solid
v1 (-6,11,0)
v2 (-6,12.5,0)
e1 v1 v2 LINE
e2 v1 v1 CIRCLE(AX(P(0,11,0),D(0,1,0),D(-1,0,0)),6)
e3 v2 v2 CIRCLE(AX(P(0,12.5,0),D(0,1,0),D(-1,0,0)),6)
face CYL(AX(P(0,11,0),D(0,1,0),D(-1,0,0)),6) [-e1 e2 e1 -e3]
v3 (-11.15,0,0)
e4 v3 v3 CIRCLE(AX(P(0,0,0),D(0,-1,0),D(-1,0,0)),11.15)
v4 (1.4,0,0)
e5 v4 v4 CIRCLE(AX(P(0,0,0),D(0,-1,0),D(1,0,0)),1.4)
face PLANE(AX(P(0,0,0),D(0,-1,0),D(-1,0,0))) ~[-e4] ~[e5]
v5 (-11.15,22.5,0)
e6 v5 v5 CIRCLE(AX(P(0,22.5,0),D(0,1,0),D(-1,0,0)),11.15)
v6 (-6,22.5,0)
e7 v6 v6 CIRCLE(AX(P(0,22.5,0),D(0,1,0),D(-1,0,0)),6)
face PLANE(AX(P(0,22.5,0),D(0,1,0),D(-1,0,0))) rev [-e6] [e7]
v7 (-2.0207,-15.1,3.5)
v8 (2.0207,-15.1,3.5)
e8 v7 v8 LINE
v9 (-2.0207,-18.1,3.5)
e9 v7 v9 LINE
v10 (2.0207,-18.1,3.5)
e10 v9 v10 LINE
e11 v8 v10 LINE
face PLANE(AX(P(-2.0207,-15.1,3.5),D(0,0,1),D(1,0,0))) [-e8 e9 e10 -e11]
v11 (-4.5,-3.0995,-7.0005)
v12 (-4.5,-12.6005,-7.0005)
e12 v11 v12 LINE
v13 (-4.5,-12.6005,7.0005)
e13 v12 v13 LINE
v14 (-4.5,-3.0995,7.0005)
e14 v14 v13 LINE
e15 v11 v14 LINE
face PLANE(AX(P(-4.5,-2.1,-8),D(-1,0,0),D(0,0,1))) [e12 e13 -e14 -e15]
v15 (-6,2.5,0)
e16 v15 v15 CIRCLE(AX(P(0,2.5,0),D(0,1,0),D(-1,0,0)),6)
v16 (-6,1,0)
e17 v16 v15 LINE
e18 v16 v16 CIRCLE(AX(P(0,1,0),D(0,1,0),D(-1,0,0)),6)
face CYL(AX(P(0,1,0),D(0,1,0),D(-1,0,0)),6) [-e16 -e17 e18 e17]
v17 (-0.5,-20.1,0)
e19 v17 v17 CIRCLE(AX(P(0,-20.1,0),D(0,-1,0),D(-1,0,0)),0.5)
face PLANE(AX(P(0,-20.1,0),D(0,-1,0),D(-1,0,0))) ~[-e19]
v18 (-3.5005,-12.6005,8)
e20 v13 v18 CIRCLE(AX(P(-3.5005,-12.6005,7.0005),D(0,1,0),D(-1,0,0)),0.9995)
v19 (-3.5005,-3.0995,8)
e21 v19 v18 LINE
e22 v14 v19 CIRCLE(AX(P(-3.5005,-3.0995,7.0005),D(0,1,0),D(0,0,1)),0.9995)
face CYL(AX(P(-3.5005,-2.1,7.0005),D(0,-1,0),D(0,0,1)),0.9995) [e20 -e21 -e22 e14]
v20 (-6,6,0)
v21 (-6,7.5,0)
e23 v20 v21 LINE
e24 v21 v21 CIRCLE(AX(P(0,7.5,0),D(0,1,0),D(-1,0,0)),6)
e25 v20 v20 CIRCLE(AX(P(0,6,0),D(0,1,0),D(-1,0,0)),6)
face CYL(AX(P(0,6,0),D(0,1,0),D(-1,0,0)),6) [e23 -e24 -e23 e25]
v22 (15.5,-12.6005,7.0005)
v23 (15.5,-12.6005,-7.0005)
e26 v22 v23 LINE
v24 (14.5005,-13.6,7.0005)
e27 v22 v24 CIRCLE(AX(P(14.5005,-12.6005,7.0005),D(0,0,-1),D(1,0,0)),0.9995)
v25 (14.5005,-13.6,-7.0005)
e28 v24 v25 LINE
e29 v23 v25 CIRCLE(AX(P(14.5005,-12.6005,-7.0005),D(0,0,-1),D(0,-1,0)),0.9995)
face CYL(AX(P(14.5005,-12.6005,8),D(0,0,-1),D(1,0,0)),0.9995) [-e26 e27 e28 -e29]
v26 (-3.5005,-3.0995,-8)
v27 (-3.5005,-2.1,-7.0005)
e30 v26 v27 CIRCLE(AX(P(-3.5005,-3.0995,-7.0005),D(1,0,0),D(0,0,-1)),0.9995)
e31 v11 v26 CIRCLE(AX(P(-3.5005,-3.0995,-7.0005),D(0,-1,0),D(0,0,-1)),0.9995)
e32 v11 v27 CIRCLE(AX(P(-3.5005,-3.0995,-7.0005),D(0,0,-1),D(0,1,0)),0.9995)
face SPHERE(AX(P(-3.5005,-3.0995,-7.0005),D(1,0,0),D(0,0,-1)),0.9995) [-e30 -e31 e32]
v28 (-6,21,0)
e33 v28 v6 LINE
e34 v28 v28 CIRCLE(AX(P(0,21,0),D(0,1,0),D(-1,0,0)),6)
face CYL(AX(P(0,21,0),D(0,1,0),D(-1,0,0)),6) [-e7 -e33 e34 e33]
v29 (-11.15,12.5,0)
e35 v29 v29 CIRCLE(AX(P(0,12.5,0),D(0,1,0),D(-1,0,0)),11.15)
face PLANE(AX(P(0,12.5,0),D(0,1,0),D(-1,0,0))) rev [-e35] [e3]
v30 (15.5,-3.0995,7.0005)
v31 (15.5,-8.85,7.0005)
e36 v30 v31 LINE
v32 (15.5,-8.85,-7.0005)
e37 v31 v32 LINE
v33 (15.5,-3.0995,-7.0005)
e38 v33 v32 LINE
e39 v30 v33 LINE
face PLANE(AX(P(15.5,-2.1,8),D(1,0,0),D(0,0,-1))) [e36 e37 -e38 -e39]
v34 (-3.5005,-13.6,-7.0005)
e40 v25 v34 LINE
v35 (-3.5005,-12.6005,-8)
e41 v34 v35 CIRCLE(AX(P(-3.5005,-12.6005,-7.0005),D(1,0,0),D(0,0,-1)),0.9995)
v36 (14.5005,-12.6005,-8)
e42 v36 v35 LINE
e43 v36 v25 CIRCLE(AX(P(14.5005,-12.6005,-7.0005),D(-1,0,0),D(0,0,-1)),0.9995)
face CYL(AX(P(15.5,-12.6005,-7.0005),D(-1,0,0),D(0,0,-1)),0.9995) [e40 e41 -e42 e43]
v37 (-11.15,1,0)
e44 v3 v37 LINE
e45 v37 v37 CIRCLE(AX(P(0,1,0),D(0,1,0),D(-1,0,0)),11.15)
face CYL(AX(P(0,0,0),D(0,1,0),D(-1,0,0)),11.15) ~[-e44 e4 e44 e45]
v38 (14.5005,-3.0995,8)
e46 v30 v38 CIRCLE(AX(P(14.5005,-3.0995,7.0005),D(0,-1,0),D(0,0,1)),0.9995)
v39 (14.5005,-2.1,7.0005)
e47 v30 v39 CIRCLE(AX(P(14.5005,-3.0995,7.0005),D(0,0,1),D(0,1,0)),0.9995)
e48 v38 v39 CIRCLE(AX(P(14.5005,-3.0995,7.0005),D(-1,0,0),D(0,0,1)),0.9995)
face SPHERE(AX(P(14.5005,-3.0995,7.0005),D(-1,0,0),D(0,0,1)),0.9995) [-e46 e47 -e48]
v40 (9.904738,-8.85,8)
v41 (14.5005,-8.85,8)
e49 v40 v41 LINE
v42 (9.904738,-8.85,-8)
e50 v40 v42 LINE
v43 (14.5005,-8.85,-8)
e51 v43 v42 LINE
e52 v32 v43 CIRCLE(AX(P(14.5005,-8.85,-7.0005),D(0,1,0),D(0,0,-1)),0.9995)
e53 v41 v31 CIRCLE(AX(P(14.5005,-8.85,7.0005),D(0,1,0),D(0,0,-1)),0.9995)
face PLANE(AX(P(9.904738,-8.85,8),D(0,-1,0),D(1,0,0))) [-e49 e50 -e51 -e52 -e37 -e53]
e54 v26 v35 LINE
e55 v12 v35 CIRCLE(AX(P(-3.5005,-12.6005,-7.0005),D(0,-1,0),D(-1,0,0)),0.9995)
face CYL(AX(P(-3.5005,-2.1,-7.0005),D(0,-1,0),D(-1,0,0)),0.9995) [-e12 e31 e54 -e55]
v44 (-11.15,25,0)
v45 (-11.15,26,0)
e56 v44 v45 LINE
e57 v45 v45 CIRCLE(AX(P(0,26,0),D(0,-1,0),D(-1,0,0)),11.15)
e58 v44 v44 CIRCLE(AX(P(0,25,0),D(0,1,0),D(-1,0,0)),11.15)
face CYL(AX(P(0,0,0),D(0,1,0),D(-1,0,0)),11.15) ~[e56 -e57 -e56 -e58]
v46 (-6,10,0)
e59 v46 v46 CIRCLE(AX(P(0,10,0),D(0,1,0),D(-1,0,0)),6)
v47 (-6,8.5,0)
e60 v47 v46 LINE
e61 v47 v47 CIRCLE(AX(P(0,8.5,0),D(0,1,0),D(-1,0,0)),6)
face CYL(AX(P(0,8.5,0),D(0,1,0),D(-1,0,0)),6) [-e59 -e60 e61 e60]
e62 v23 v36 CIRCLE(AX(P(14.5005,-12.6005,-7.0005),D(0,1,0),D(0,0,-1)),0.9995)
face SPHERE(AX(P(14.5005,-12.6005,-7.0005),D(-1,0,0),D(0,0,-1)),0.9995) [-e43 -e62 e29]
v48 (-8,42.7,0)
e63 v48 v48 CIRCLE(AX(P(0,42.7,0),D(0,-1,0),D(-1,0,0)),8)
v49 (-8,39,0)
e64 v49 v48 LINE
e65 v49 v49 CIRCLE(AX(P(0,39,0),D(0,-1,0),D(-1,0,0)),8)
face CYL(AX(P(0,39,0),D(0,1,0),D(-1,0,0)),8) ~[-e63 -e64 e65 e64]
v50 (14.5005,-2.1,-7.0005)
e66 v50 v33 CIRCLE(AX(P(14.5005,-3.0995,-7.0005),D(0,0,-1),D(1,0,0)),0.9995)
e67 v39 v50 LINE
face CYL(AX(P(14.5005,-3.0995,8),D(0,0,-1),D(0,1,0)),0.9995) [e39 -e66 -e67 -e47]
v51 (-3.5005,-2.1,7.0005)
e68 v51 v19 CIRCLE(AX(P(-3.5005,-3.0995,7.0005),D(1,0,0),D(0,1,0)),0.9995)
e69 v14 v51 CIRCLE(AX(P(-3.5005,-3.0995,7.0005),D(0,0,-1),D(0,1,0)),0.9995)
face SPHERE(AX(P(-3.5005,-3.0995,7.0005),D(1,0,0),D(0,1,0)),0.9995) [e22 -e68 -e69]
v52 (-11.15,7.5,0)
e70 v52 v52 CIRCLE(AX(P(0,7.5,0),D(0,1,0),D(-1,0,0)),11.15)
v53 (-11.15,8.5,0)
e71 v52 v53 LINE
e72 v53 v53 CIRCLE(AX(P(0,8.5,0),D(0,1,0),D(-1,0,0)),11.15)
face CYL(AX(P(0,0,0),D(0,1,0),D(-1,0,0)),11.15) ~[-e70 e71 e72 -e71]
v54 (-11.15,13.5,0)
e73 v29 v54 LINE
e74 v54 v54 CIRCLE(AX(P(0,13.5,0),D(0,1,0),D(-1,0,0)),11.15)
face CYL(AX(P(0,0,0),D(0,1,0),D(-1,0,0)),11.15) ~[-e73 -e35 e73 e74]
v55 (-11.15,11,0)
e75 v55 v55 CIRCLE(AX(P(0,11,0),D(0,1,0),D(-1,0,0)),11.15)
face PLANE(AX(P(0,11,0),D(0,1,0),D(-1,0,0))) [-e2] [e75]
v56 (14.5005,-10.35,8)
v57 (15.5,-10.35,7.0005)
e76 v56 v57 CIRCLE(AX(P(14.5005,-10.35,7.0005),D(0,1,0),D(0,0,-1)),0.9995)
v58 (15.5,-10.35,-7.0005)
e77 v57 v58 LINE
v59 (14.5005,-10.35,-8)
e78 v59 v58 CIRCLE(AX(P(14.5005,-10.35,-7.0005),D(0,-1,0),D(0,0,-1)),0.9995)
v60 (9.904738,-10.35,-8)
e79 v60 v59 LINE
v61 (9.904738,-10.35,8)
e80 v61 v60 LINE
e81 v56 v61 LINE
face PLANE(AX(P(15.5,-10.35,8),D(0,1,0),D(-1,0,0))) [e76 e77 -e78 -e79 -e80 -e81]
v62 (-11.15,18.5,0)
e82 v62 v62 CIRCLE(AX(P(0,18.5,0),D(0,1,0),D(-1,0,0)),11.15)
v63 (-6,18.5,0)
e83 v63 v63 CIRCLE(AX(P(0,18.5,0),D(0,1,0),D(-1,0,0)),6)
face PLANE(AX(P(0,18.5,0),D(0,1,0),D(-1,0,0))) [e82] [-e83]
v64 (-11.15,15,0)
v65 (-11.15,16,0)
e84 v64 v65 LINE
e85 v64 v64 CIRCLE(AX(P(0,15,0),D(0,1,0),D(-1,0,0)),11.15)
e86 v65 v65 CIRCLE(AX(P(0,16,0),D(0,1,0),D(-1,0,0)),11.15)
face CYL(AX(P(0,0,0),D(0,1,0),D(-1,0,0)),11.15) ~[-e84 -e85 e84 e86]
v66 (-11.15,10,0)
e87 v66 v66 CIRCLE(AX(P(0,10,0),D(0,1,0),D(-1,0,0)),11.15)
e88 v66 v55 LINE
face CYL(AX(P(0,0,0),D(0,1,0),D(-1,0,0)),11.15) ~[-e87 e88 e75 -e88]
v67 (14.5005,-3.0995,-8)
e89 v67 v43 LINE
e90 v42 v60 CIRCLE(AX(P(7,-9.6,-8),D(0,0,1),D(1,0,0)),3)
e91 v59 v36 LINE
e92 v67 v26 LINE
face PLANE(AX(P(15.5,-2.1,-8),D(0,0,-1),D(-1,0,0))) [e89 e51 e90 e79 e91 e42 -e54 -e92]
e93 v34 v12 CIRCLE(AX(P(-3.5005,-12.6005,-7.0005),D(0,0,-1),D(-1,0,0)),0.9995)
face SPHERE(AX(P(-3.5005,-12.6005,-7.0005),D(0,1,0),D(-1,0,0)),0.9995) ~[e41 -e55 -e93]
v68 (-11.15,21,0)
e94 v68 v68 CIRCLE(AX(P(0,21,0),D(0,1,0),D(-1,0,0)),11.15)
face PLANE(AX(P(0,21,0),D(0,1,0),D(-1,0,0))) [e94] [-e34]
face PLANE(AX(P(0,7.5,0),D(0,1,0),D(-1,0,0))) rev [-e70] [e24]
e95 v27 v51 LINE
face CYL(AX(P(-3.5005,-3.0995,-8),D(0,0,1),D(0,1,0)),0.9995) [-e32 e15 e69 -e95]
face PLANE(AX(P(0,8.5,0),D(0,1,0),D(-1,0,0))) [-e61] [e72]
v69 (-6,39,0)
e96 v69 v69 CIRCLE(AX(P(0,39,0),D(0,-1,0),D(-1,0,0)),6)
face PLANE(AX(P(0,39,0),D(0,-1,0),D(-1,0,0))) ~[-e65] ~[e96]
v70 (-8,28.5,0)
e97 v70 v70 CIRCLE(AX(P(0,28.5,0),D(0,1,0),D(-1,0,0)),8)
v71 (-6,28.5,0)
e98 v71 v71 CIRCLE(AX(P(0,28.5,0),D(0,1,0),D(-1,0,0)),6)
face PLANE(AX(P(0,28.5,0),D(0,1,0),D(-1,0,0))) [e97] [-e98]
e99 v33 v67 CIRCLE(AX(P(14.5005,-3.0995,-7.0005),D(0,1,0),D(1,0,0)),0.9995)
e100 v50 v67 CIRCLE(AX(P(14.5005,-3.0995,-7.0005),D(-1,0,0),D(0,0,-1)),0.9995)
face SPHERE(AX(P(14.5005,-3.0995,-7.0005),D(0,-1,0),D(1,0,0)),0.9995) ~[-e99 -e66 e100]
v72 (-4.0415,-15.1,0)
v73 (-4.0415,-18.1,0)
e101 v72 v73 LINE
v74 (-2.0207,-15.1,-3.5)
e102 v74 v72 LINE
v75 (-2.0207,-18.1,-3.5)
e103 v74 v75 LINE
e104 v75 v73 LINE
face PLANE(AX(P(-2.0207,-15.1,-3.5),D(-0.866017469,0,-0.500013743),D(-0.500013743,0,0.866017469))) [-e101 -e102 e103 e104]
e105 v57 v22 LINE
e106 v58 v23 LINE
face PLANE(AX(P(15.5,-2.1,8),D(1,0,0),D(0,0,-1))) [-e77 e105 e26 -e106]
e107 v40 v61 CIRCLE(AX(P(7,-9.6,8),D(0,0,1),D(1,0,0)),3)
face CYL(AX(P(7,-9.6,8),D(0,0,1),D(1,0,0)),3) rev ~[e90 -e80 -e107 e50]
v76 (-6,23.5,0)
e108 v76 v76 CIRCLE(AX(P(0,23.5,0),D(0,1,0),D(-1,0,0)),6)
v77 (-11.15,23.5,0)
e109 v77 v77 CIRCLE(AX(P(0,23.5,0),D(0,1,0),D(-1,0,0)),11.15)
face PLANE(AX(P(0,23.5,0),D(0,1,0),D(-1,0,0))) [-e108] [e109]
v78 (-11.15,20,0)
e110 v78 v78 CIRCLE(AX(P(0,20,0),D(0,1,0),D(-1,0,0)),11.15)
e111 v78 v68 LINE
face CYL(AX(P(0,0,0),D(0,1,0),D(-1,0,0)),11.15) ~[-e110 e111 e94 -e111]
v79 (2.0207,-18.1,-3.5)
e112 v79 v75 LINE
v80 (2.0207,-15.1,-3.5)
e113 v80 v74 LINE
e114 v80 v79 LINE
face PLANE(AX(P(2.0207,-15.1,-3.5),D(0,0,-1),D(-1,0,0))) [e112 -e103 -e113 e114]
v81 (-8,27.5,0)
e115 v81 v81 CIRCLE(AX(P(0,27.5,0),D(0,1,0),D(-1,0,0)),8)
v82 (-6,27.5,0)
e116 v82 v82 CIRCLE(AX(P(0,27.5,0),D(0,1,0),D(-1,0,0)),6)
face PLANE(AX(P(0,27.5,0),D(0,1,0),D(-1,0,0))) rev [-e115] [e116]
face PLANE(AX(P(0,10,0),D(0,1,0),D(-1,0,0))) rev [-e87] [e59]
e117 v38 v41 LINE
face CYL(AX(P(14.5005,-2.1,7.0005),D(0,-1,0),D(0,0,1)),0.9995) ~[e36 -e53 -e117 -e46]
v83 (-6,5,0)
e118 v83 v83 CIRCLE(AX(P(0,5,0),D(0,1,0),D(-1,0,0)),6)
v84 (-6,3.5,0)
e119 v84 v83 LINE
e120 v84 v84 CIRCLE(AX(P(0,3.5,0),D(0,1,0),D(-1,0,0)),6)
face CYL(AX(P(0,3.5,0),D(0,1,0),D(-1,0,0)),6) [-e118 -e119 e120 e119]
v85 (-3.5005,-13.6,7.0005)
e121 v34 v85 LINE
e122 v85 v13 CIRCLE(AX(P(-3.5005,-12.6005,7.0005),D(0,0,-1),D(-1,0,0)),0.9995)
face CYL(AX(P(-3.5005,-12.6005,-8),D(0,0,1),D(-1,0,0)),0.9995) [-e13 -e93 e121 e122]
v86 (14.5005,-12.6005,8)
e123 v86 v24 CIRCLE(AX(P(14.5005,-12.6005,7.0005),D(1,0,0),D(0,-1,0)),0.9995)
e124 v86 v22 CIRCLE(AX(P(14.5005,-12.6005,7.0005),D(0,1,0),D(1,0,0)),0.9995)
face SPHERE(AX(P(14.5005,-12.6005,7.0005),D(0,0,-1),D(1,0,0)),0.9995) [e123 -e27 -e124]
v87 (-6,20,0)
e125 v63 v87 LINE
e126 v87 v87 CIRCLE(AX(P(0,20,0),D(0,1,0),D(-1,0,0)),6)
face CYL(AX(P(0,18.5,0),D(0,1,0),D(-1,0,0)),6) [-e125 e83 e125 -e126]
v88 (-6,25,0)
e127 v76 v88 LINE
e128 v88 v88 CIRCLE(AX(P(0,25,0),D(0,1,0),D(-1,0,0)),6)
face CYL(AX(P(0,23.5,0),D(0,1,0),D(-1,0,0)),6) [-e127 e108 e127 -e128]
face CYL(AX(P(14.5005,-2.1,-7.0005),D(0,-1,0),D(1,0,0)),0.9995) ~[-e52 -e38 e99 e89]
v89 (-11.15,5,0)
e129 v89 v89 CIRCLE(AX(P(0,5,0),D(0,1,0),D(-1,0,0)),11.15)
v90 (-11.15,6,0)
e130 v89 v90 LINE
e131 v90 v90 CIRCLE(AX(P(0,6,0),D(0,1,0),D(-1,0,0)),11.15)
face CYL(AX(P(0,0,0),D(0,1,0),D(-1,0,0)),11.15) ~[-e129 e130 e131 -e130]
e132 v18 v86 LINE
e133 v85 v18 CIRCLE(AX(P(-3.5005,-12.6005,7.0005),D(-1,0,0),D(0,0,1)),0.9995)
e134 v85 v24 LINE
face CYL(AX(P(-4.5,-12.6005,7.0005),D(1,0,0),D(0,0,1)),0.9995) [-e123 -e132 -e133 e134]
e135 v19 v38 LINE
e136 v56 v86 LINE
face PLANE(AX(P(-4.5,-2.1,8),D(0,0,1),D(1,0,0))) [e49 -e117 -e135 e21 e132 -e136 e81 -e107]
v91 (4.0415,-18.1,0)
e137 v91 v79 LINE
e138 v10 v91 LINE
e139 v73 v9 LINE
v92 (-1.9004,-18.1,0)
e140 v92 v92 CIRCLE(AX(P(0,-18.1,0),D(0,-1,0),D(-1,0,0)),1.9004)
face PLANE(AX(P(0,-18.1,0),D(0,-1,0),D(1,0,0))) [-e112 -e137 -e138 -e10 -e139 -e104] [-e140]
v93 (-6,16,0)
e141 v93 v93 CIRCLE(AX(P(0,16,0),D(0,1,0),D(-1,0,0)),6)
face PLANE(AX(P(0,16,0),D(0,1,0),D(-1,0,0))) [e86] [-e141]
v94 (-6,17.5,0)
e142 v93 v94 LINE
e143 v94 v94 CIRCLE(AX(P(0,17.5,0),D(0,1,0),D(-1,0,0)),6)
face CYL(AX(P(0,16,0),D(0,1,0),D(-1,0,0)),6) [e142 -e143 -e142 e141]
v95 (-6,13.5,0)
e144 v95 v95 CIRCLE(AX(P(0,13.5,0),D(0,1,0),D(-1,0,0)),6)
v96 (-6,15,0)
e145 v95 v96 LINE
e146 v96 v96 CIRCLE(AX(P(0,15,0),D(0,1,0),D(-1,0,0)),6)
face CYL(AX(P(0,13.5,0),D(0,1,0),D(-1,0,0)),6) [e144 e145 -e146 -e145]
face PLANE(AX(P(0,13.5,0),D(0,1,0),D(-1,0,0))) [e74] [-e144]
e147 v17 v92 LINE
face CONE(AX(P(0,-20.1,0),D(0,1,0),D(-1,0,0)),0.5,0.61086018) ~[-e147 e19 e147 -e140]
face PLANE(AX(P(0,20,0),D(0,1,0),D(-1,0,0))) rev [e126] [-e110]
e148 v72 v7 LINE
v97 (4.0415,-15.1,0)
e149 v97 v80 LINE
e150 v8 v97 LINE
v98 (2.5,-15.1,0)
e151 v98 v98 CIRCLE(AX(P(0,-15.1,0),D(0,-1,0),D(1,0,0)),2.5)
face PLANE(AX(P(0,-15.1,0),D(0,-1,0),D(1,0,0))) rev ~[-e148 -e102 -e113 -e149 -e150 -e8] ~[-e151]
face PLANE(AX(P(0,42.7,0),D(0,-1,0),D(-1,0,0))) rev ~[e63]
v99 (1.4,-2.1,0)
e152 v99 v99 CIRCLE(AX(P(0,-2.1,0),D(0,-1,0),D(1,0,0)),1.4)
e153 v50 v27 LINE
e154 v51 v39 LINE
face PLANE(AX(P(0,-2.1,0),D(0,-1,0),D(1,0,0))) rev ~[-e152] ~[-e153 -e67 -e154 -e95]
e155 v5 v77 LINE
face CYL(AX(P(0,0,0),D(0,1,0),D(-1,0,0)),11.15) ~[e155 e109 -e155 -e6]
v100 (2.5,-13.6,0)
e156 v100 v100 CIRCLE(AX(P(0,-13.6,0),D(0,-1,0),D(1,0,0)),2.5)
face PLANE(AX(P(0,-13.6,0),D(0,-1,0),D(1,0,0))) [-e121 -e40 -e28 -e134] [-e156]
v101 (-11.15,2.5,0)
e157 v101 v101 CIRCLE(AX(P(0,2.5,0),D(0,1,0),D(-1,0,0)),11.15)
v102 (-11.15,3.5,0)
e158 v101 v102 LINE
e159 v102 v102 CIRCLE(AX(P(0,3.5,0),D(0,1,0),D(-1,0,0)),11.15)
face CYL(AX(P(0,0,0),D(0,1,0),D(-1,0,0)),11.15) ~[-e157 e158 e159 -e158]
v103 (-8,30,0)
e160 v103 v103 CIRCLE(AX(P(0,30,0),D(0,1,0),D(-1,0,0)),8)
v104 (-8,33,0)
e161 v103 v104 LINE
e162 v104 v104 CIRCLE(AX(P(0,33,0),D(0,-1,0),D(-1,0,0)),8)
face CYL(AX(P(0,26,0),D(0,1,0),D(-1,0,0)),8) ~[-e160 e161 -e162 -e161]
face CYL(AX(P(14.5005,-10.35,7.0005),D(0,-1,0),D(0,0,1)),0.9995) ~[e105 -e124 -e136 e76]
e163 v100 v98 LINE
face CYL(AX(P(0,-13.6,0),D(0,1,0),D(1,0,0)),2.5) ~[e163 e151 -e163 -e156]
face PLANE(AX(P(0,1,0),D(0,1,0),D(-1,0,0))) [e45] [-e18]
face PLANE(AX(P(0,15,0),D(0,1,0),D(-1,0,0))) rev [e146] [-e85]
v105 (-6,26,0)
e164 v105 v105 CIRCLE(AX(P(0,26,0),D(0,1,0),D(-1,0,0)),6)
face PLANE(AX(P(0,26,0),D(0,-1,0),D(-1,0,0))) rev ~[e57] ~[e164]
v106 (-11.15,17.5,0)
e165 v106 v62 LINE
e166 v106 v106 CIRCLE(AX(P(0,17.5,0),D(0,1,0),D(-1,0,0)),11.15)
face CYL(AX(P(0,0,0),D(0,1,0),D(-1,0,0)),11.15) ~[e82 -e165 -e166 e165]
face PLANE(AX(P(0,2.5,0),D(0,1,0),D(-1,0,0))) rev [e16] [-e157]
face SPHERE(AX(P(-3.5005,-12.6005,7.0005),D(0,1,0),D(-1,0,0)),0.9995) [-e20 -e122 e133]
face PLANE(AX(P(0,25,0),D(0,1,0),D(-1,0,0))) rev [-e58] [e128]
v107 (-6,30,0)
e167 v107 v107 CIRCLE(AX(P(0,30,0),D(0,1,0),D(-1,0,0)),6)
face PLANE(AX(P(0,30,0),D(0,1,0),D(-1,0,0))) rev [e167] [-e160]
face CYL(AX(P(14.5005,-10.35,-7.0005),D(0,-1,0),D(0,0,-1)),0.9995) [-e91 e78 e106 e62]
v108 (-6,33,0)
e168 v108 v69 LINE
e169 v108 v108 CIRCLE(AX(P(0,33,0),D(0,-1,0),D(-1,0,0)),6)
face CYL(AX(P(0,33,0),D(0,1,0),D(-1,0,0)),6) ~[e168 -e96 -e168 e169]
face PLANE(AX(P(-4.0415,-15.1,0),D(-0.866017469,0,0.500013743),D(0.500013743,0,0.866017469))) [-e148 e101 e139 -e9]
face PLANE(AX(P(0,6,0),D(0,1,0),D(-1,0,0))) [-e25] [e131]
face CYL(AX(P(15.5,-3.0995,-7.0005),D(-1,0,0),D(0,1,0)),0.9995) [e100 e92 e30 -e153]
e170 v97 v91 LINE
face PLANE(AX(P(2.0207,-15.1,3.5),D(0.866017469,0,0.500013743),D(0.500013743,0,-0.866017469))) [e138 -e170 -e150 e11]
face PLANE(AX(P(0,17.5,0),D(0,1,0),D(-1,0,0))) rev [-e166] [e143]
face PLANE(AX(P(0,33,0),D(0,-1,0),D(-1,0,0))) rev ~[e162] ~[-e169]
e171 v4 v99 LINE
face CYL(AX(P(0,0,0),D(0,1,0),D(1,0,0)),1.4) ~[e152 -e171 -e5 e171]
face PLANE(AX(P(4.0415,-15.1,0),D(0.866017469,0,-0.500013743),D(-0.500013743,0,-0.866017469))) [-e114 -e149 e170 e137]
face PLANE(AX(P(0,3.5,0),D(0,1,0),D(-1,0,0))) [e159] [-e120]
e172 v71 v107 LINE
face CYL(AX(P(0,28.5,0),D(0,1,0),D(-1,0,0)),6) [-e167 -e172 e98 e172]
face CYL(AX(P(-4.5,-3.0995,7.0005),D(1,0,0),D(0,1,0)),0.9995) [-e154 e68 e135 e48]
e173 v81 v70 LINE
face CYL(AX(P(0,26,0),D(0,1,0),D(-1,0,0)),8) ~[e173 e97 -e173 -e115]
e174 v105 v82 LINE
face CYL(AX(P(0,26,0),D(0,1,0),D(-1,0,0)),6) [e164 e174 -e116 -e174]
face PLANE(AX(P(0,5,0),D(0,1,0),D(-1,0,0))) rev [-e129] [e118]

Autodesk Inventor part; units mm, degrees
ref_plane "YZ Plane" through (0, 0, 0) normal (1, 0, 0) x (0, 1, 0)
ref_plane "XZ Plane" through (0, 0, 0) normal (0, 1, 0) x (-1, 0, 0)
ref_plane "XY Plane" through (0, 0, 0) normal (0, 0, 1) x (1, 0, 0)
sketch "Sketch1" plane through (0, 0, 0) normal (0, 0, 1) x (1, 0, 0)
  line L0 (0, 0) -> (-11.15, 0)
  line L1 (-11.15, 0) -> (-11.15, 26)
  line L2 (-11.15, 26) -> (-8, 26)
  line L3 (-8, 26) -> (-8, 33)
  line L4 (-8, 33) -> (-6, 33)
  line L5 (-6, 33) -> (-6, 39)
  line L6 (-6, 39) -> (-8, 39)
  line L7 (-8, 39) -> (-8, 42.7)
  line L8 (-8, 42.7) -> (0, 42.7)
  line L9 (0, 42.7) -> (0, 0)
  dimension "d0" = 6
  dimension "d2" = 8
  dimension "d3" = 11.15
  dimension "d4" = 26
  dimension "d5" = 42.7
  dimension "d6" = 3.7
  dimension "d7" = 6
revolve "Revolution1" add sketch "Sketch1" angle 360 about axis through (0, 42.7, 0) along (0, -1, 0)
sketch "Sketch2" plane through (0, 0, 0) normal (0, 0, 1) x (1, 0, 0)
  line L0 (11.15, 26) -> (11.15, 0) projected
  line L1 (11.15, 0) -> (-11.15, 0) projected
  line L2 (-11.15, 0) -> (-11.15, 26) projected
  line L3 (-11.15, 26) -> (-8, 26) projected
  line L4 (-8, 26) -> (-8, 33) projected
  line L5 (-8, 33) -> (-6, 33) projected
  line L6 (-6, 33) -> (-6, 39) projected
  line L7 (-6, 39) -> (-8, 39) projected
  line L8 (-8, 39) -> (-8, 42.7) projected
  line L9 (-8, 42.7) -> (8, 42.7) projected
  line L10 (8, 42.7) -> (8, 39) projected
  line L11 (8, 39) -> (6, 39) projected
  line L12 (6, 39) -> (6, 33) projected
  line L13 (6, 33) -> (8, 33) projected
  line L14 (8, 33) -> (8, 26) projected
  line L15 (8, 26) -> (11.15, 26) projected
  line L16 (-11.15, 1) -> (-6, 1)
  line L17 (-6, 1) -> (-6, 2.5)
  line L18 (-6, 2.5) -> (-11.15, 2.5)
  line L19 (-11.15, 2.5) -> (-11.15, 1)
  line L20 (0, -8.54) -> (0, 51.24) projected
  point P0 (0, 0)
  dimension "d9" = 6
  dimension "d10" = 1.5
  dimension "d11" = 1
revolve "Revolution2" cut sketch "Sketch2" angle 360 about axis through (0, -10, 0) along (0, 1, 0) contours L2 L18 L17 L16
pattern_linear "Rectangular Pattern1" count 12 spacing 2.5 along (0, 1, 0) of "Revolution2"
sketch "Sketch3" plane through (0, 0, 0) normal (0, -1, 0) x (1, 0, 0)
  circle A0 centre (0, 0) radius 11.15 projected
  circle A1 centre (0, 0) radius 1.4
  dimension "d16" = 2.8
extrude "Extrusion1" add sketch "Sketch3" along normal blind 2.1 contours A1
sketch "Sketch4" plane through (0, -2.1, 0) normal (0, -1, 0) x (1, 0, 0)
  circle A0 centre (0, 0) radius 1.4 projected
  line L0 (-4.5, 8) -> (15.5, 8)
  line L1 (15.5, 8) -> (15.5, -8)
  line L2 (15.5, -8) -> (-4.5, -8)
  line L3 (-4.5, -8) -> (-4.5, 8)
  point P0 (-4.5, 0)
  dimension "d20" = 4.5
  dimension "d21" = 16
  dimension "d22" = 20
extrude "Extrusion2" add sketch "Sketch4" along normal blind 11.5 contours A0 | L0 L1 L2 L3
sketch "Sketch5" plane through (-4.5, -2.1, 8) normal (0, 0, 1) x (1, 0, 0)
  line L0 (0, 0) -> (0, -11.5) projected
  line L1 (20, -11.5) -> (0, -11.5) projected
  line L2 (20, 0) -> (20, -11.5) projected
  circle A0 centre (11.5, -7.5) radius 3
  line L3 (11.5, -6.75) -> (20, -6.75)
  line L4 (20, -6.75) -> (20, -8.25)
  line L5 (20, -8.25) -> (11.5, -8.25)
  line L6 (11.5, -8.25) -> (11.5, -6.75)
  point P0 (4.5, 2.1)
  dimension "d25" = 4
  dimension "d26" = 6
  dimension "d27" = 1.5
  dimension "d28" = 11.5
extrude "Extrusion3" cut sketch "Sketch5" against normal through all
sketch "Sketch6" plane through (0, -13.6, 0) normal (0, -1, 0) x (1, 0, 0)
  circle A0 centre (0, 0) radius 2.5
  dimension "d32" = 5
extrude "Extrusion4" add sketch "Sketch6" along normal blind 1.5
fillet "Fillet1" radius 1 14 edges at (5.5, -2.1, 8) (15.5, -5.475, 8) (15.5, -5.475, -8) (15.5, -2.1, 0) (5.5, -2.1, -8) (-4.5, -7.85, -8) (-4.5, -2.1, 0) (-4.5, -7.85, 8) (-4.5, -13.6, 0) (5.5, -13.6, -8) (15.5, -11.975, -8) (15.5, -13.6, 0) (15.5, -11.975, 8) (5.5, -13.6, 8)
sketch "Sketch7" plane through (0, -15.1, 0) normal (0, -1, 0) x (1, 0, 0)
  circle A0 centre (0, 0) radius 2.5 projected
  line L0 (2.0207, 3.5) -> (4.0415, 0)
  line L1 (4.0415, 0) -> (2.0207, -3.5)
  line L2 (2.0207, -3.5) -> (-2.0207, -3.5)
  line L3 (-2.0207, -3.5) -> (-4.0415, 0)
  line L4 (-4.0415, 0) -> (-2.0207, 3.5)
  line L5 (-2.0207, 3.5) -> (2.0207, 3.5)
  dimension "d36" = 7
extrude "Extrusion5" add sketch "Sketch7" along normal blind 3 contours A0 | L0 L1 L2 L3 L4 L5
sketch "Sketch8" plane through (0, 0, 0) normal (0, 0, 1) x (1, 0, 0)
  line L0 (6, 2.5) -> (6, 1) projected
  line L1 (6, 1) -> (11.15, 1) projected
  line L2 (11.15, 1) -> (11.15, 0) projected
  line L3 (11.15, 0) -> (1.4, 0) projected
  line L4 (1.4, 0) -> (1.4, -2.1) projected
  line L5 (1.4, -2.1) -> (14.5, -2.1) projected
  arc A0 (15.5, -3.1) -> (14.5, -2.1) centre (14.5, -3.1) ccw projected
  line L6 (15.5, -3.1) -> (15.5, -8.85) projected
  line L7 (15.5, -8.85) -> (9.9047, -8.85) projected
  arc A1 (9.9047, -8.85) -> (9.9047, -10.35) centre (7, -9.6) ccw projected
  line L8 (9.9047, -10.35) -> (15.5, -10.35) projected
  line L9 (15.5, -10.35) -> (15.5, -12.6) projected
  arc A2 (14.5, -13.6) -> (15.5, -12.6) centre (14.5, -12.6) ccw projected
  line L10 (14.5, -13.6) -> (2.5, -13.6) projected
  line L11 (2.5, -13.6) -> (2.5, -15.1) projected
  line L12 (2.5, -15.1) -> (4.0415, -15.1) projected
  line L13 (4.0415, -15.1) -> (4.0415, -18.1) projected
  line L14 (4.0415, -18.1) -> (-4.0415, -18.1) projected
  line L15 (-4.0415, -18.1) -> (-4.0415, -15.1) projected
  line L16 (-4.0415, -15.1) -> (-2.5, -15.1) projected
  line L17 (-2.5, -15.1) -> (-2.5, -13.6) projected
  line L18 (-2.5, -13.6) -> (-3.5, -13.6) projected
  arc A3 (-4.5, -12.6) -> (-3.5, -13.6) centre (-3.5, -12.6) ccw projected
  line L19 (-4.5, -12.6) -> (-4.5, -3.1) projected
  arc A4 (-3.5, -2.1) -> (-4.5, -3.1) centre (-3.5, -3.1) ccw projected
  line L20 (-3.5, -2.1) -> (-1.4, -2.1) projected
  line L21 (-1.4, -2.1) -> (-1.4, 0) projected
  line L22 (-1.4, 0) -> (-11.15, 0) projected
  line L23 (-11.15, 0) -> (-11.15, 1) projected
  line L24 (-11.15, 1) -> (-6, 1) projected
  line L25 (-6, 1) -> (-6, 2.5) projected
  line L26 (-6, 2.5) -> (-11.15, 2.5) projected
  line L27 (-11.15, 2.5) -> (-11.15, 3.5) projected
  line L28 (-11.15, 3.5) -> (-6, 3.5) projected
  line L29 (-6, 3.5) -> (-6, 5) projected
  line L30 (-6, 5) -> (-11.15, 5) projected
  line L31 (-11.15, 5) -> (-11.15, 6) projected
  line L32 (-11.15, 6) -> (-6, 6) projected
  line L33 (-6, 6) -> (-6, 7.5) projected
  line L34 (-6, 7.5) -> (-11.15, 7.5) projected
  line L35 (-11.15, 7.5) -> (-11.15, 8.5) projected
  line L36 (-11.15, 8.5) -> (-6, 8.5) projected
  line L37 (-6, 8.5) -> (-6, 10) projected
  line L38 (-6, 10) -> (-11.15, 10) projected
  line L39 (-11.15, 10) -> (-11.15, 11) projected
  line L40 (-11.15, 11) -> (-6, 11) projected
  line L41 (-6, 11) -> (-6, 12.5) projected
  line L42 (-6, 12.5) -> (-11.15, 12.5) projected
  line L43 (-11.15, 12.5) -> (-11.15, 13.5) projected
  line L44 (-11.15, 13.5) -> (-6, 13.5) projected
  line L45 (-6, 13.5) -> (-6, 15) projected
  line L46 (-6, 15) -> (-11.15, 15) projected
  line L47 (-11.15, 15) -> (-11.15, 16) projected
  line L48 (-11.15, 16) -> (-6, 16) projected
  line L49 (-6, 16) -> (-6, 17.5) projected
  line L50 (-6, 17.5) -> (-11.15, 17.5) projected
  line L51 (-11.15, 17.5) -> (-11.15, 18.5) projected
  line L52 (-11.15, 18.5) -> (-6, 18.5) projected
  line L53 (-6, 18.5) -> (-6, 20) projected
  line L54 (-6, 20) -> (-11.15, 20) projected
  line L55 (-11.15, 20) -> (-11.15, 21) projected
  line L56 (-11.15, 21) -> (-6, 21) projected
  line L57 (-6, 21) -> (-6, 22.5) projected
  line L58 (-6, 22.5) -> (-11.15, 22.5) projected
  line L59 (-11.15, 22.5) -> (-11.15, 23.5) projected
  line L60 (-11.15, 23.5) -> (-6, 23.5) projected
  line L61 (-6, 23.5) -> (-6, 25) projected
  line L62 (-6, 25) -> (-11.15, 25) projected
  line L63 (-11.15, 25) -> (-11.15, 26) projected
  line L64 (-11.15, 26) -> (-6, 26) projected
  line L65 (-6, 26) -> (-6, 27.5) projected
  line L66 (-6, 27.5) -> (-8, 27.5) projected
  line L67 (-8, 27.5) -> (-8, 28.5) projected
  line L68 (-8, 28.5) -> (-6, 28.5) projected
  line L69 (-6, 28.5) -> (-6, 30) projected
  line L70 (-6, 30) -> (-8, 30) projected
  line L71 (-8, 30) -> (-8, 33) projected
  line L72 (-8, 33) -> (-6, 33) projected
  line L73 (-6, 33) -> (-6, 39) projected
  line L74 (-6, 39) -> (-8, 39) projected
  line L75 (-8, 39) -> (-8, 42.7) projected
  line L76 (-8, 42.7) -> (8, 42.7) projected
  line L77 (8, 42.7) -> (8, 39) projected
  line L78 (8, 39) -> (6, 39) projected
  line L79 (6, 39) -> (6, 33) projected
  line L80 (6, 33) -> (8, 33) projected
  line L81 (8, 33) -> (8, 30) projected
  line L82 (8, 30) -> (6, 30) projected
  line L83 (6, 30) -> (6, 28.5) projected
  line L84 (6, 28.5) -> (8, 28.5) projected
  line L85 (8, 28.5) -> (8, 27.5) projected
  line L86 (8, 27.5) -> (6, 27.5) projected
  line L87 (6, 27.5) -> (6, 26) projected
  line L88 (6, 26) -> (11.15, 26) projected
  line L89 (11.15, 26) -> (11.15, 25) projected
  line L90 (11.15, 25) -> (6, 25) projected
  line L91 (6, 25) -> (6, 23.5) projected
  line L92 (6, 23.5) -> (11.15, 23.5) projected
  line L93 (11.15, 23.5) -> (11.15, 22.5) projected
  line L94 (11.15, 22.5) -> (6, 22.5) projected
  line L95 (6, 22.5) -> (6, 21) projected
  line L96 (6, 21) -> (11.15, 21) projected
  line L97 (11.15, 21) -> (11.15, 20) projected
  line L98 (11.15, 20) -> (6, 20) projected
  line L99 (6, 20) -> (6, 18.5) projected
  line L100 (6, 18.5) -> (11.15, 18.5) projected
  line L101 (11.15, 18.5) -> (11.15, 17.5) projected
  line L102 (11.15, 17.5) -> (6, 17.5) projected
  line L103 (6, 17.5) -> (6, 16) projected
  line L104 (6, 16) -> (11.15, 16) projected
  line L105 (11.15, 16) -> (11.15, 15) projected
  line L106 (11.15, 15) -> (6, 15) projected
  line L107 (6, 15) -> (6, 13.5) projected
  line L108 (6, 13.5) -> (11.15, 13.5) projected
  line L109 (11.15, 13.5) -> (11.15, 12.5) projected
  line L110 (11.15, 12.5) -> (6, 12.5) projected
  line L111 (6, 12.5) -> (6, 11) projected
  line L112 (6, 11) -> (11.15, 11) projected
  line L113 (11.15, 11) -> (11.15, 10) projected
  line L114 (11.15, 10) -> (6, 10) projected
  line L115 (6, 10) -> (6, 8.5) projected
  line L116 (6, 8.5) -> (11.15, 8.5) projected
  line L117 (11.15, 8.5) -> (11.15, 7.5) projected
  line L118 (11.15, 7.5) -> (6, 7.5) projected
  line L119 (6, 7.5) -> (6, 6) projected
  line L120 (6, 6) -> (11.15, 6) projected
  line L121 (11.15, 6) -> (11.15, 5) projected
  line L122 (11.15, 5) -> (6, 5) projected
  line L123 (6, 5) -> (6, 3.5) projected
  line L124 (6, 3.5) -> (11.15, 3.5) projected
  line L125 (11.15, 3.5) -> (11.15, 2.5) projected
  line L126 (11.15, 2.5) -> (6, 2.5) projected
  line L127 (0, -18.1) -> (0, -20.1)
  line L128 (0, -20.1) -> (-0.5, -20.1)
  line L129 (-0.5, -20.1) -> (-1.9004, -18.1)
  point P0 (0, 0)
  dimension "d39" = 125
  dimension "d41" = 0.5
  dimension "d42" = 2
revolve "Revolution3" add sketch "Sketch8" angle 360 about axis through (0, -18.1, 0) along (0, -1, 0) contours L127 L128 L129 L14
properties part number "E3Dv6"
